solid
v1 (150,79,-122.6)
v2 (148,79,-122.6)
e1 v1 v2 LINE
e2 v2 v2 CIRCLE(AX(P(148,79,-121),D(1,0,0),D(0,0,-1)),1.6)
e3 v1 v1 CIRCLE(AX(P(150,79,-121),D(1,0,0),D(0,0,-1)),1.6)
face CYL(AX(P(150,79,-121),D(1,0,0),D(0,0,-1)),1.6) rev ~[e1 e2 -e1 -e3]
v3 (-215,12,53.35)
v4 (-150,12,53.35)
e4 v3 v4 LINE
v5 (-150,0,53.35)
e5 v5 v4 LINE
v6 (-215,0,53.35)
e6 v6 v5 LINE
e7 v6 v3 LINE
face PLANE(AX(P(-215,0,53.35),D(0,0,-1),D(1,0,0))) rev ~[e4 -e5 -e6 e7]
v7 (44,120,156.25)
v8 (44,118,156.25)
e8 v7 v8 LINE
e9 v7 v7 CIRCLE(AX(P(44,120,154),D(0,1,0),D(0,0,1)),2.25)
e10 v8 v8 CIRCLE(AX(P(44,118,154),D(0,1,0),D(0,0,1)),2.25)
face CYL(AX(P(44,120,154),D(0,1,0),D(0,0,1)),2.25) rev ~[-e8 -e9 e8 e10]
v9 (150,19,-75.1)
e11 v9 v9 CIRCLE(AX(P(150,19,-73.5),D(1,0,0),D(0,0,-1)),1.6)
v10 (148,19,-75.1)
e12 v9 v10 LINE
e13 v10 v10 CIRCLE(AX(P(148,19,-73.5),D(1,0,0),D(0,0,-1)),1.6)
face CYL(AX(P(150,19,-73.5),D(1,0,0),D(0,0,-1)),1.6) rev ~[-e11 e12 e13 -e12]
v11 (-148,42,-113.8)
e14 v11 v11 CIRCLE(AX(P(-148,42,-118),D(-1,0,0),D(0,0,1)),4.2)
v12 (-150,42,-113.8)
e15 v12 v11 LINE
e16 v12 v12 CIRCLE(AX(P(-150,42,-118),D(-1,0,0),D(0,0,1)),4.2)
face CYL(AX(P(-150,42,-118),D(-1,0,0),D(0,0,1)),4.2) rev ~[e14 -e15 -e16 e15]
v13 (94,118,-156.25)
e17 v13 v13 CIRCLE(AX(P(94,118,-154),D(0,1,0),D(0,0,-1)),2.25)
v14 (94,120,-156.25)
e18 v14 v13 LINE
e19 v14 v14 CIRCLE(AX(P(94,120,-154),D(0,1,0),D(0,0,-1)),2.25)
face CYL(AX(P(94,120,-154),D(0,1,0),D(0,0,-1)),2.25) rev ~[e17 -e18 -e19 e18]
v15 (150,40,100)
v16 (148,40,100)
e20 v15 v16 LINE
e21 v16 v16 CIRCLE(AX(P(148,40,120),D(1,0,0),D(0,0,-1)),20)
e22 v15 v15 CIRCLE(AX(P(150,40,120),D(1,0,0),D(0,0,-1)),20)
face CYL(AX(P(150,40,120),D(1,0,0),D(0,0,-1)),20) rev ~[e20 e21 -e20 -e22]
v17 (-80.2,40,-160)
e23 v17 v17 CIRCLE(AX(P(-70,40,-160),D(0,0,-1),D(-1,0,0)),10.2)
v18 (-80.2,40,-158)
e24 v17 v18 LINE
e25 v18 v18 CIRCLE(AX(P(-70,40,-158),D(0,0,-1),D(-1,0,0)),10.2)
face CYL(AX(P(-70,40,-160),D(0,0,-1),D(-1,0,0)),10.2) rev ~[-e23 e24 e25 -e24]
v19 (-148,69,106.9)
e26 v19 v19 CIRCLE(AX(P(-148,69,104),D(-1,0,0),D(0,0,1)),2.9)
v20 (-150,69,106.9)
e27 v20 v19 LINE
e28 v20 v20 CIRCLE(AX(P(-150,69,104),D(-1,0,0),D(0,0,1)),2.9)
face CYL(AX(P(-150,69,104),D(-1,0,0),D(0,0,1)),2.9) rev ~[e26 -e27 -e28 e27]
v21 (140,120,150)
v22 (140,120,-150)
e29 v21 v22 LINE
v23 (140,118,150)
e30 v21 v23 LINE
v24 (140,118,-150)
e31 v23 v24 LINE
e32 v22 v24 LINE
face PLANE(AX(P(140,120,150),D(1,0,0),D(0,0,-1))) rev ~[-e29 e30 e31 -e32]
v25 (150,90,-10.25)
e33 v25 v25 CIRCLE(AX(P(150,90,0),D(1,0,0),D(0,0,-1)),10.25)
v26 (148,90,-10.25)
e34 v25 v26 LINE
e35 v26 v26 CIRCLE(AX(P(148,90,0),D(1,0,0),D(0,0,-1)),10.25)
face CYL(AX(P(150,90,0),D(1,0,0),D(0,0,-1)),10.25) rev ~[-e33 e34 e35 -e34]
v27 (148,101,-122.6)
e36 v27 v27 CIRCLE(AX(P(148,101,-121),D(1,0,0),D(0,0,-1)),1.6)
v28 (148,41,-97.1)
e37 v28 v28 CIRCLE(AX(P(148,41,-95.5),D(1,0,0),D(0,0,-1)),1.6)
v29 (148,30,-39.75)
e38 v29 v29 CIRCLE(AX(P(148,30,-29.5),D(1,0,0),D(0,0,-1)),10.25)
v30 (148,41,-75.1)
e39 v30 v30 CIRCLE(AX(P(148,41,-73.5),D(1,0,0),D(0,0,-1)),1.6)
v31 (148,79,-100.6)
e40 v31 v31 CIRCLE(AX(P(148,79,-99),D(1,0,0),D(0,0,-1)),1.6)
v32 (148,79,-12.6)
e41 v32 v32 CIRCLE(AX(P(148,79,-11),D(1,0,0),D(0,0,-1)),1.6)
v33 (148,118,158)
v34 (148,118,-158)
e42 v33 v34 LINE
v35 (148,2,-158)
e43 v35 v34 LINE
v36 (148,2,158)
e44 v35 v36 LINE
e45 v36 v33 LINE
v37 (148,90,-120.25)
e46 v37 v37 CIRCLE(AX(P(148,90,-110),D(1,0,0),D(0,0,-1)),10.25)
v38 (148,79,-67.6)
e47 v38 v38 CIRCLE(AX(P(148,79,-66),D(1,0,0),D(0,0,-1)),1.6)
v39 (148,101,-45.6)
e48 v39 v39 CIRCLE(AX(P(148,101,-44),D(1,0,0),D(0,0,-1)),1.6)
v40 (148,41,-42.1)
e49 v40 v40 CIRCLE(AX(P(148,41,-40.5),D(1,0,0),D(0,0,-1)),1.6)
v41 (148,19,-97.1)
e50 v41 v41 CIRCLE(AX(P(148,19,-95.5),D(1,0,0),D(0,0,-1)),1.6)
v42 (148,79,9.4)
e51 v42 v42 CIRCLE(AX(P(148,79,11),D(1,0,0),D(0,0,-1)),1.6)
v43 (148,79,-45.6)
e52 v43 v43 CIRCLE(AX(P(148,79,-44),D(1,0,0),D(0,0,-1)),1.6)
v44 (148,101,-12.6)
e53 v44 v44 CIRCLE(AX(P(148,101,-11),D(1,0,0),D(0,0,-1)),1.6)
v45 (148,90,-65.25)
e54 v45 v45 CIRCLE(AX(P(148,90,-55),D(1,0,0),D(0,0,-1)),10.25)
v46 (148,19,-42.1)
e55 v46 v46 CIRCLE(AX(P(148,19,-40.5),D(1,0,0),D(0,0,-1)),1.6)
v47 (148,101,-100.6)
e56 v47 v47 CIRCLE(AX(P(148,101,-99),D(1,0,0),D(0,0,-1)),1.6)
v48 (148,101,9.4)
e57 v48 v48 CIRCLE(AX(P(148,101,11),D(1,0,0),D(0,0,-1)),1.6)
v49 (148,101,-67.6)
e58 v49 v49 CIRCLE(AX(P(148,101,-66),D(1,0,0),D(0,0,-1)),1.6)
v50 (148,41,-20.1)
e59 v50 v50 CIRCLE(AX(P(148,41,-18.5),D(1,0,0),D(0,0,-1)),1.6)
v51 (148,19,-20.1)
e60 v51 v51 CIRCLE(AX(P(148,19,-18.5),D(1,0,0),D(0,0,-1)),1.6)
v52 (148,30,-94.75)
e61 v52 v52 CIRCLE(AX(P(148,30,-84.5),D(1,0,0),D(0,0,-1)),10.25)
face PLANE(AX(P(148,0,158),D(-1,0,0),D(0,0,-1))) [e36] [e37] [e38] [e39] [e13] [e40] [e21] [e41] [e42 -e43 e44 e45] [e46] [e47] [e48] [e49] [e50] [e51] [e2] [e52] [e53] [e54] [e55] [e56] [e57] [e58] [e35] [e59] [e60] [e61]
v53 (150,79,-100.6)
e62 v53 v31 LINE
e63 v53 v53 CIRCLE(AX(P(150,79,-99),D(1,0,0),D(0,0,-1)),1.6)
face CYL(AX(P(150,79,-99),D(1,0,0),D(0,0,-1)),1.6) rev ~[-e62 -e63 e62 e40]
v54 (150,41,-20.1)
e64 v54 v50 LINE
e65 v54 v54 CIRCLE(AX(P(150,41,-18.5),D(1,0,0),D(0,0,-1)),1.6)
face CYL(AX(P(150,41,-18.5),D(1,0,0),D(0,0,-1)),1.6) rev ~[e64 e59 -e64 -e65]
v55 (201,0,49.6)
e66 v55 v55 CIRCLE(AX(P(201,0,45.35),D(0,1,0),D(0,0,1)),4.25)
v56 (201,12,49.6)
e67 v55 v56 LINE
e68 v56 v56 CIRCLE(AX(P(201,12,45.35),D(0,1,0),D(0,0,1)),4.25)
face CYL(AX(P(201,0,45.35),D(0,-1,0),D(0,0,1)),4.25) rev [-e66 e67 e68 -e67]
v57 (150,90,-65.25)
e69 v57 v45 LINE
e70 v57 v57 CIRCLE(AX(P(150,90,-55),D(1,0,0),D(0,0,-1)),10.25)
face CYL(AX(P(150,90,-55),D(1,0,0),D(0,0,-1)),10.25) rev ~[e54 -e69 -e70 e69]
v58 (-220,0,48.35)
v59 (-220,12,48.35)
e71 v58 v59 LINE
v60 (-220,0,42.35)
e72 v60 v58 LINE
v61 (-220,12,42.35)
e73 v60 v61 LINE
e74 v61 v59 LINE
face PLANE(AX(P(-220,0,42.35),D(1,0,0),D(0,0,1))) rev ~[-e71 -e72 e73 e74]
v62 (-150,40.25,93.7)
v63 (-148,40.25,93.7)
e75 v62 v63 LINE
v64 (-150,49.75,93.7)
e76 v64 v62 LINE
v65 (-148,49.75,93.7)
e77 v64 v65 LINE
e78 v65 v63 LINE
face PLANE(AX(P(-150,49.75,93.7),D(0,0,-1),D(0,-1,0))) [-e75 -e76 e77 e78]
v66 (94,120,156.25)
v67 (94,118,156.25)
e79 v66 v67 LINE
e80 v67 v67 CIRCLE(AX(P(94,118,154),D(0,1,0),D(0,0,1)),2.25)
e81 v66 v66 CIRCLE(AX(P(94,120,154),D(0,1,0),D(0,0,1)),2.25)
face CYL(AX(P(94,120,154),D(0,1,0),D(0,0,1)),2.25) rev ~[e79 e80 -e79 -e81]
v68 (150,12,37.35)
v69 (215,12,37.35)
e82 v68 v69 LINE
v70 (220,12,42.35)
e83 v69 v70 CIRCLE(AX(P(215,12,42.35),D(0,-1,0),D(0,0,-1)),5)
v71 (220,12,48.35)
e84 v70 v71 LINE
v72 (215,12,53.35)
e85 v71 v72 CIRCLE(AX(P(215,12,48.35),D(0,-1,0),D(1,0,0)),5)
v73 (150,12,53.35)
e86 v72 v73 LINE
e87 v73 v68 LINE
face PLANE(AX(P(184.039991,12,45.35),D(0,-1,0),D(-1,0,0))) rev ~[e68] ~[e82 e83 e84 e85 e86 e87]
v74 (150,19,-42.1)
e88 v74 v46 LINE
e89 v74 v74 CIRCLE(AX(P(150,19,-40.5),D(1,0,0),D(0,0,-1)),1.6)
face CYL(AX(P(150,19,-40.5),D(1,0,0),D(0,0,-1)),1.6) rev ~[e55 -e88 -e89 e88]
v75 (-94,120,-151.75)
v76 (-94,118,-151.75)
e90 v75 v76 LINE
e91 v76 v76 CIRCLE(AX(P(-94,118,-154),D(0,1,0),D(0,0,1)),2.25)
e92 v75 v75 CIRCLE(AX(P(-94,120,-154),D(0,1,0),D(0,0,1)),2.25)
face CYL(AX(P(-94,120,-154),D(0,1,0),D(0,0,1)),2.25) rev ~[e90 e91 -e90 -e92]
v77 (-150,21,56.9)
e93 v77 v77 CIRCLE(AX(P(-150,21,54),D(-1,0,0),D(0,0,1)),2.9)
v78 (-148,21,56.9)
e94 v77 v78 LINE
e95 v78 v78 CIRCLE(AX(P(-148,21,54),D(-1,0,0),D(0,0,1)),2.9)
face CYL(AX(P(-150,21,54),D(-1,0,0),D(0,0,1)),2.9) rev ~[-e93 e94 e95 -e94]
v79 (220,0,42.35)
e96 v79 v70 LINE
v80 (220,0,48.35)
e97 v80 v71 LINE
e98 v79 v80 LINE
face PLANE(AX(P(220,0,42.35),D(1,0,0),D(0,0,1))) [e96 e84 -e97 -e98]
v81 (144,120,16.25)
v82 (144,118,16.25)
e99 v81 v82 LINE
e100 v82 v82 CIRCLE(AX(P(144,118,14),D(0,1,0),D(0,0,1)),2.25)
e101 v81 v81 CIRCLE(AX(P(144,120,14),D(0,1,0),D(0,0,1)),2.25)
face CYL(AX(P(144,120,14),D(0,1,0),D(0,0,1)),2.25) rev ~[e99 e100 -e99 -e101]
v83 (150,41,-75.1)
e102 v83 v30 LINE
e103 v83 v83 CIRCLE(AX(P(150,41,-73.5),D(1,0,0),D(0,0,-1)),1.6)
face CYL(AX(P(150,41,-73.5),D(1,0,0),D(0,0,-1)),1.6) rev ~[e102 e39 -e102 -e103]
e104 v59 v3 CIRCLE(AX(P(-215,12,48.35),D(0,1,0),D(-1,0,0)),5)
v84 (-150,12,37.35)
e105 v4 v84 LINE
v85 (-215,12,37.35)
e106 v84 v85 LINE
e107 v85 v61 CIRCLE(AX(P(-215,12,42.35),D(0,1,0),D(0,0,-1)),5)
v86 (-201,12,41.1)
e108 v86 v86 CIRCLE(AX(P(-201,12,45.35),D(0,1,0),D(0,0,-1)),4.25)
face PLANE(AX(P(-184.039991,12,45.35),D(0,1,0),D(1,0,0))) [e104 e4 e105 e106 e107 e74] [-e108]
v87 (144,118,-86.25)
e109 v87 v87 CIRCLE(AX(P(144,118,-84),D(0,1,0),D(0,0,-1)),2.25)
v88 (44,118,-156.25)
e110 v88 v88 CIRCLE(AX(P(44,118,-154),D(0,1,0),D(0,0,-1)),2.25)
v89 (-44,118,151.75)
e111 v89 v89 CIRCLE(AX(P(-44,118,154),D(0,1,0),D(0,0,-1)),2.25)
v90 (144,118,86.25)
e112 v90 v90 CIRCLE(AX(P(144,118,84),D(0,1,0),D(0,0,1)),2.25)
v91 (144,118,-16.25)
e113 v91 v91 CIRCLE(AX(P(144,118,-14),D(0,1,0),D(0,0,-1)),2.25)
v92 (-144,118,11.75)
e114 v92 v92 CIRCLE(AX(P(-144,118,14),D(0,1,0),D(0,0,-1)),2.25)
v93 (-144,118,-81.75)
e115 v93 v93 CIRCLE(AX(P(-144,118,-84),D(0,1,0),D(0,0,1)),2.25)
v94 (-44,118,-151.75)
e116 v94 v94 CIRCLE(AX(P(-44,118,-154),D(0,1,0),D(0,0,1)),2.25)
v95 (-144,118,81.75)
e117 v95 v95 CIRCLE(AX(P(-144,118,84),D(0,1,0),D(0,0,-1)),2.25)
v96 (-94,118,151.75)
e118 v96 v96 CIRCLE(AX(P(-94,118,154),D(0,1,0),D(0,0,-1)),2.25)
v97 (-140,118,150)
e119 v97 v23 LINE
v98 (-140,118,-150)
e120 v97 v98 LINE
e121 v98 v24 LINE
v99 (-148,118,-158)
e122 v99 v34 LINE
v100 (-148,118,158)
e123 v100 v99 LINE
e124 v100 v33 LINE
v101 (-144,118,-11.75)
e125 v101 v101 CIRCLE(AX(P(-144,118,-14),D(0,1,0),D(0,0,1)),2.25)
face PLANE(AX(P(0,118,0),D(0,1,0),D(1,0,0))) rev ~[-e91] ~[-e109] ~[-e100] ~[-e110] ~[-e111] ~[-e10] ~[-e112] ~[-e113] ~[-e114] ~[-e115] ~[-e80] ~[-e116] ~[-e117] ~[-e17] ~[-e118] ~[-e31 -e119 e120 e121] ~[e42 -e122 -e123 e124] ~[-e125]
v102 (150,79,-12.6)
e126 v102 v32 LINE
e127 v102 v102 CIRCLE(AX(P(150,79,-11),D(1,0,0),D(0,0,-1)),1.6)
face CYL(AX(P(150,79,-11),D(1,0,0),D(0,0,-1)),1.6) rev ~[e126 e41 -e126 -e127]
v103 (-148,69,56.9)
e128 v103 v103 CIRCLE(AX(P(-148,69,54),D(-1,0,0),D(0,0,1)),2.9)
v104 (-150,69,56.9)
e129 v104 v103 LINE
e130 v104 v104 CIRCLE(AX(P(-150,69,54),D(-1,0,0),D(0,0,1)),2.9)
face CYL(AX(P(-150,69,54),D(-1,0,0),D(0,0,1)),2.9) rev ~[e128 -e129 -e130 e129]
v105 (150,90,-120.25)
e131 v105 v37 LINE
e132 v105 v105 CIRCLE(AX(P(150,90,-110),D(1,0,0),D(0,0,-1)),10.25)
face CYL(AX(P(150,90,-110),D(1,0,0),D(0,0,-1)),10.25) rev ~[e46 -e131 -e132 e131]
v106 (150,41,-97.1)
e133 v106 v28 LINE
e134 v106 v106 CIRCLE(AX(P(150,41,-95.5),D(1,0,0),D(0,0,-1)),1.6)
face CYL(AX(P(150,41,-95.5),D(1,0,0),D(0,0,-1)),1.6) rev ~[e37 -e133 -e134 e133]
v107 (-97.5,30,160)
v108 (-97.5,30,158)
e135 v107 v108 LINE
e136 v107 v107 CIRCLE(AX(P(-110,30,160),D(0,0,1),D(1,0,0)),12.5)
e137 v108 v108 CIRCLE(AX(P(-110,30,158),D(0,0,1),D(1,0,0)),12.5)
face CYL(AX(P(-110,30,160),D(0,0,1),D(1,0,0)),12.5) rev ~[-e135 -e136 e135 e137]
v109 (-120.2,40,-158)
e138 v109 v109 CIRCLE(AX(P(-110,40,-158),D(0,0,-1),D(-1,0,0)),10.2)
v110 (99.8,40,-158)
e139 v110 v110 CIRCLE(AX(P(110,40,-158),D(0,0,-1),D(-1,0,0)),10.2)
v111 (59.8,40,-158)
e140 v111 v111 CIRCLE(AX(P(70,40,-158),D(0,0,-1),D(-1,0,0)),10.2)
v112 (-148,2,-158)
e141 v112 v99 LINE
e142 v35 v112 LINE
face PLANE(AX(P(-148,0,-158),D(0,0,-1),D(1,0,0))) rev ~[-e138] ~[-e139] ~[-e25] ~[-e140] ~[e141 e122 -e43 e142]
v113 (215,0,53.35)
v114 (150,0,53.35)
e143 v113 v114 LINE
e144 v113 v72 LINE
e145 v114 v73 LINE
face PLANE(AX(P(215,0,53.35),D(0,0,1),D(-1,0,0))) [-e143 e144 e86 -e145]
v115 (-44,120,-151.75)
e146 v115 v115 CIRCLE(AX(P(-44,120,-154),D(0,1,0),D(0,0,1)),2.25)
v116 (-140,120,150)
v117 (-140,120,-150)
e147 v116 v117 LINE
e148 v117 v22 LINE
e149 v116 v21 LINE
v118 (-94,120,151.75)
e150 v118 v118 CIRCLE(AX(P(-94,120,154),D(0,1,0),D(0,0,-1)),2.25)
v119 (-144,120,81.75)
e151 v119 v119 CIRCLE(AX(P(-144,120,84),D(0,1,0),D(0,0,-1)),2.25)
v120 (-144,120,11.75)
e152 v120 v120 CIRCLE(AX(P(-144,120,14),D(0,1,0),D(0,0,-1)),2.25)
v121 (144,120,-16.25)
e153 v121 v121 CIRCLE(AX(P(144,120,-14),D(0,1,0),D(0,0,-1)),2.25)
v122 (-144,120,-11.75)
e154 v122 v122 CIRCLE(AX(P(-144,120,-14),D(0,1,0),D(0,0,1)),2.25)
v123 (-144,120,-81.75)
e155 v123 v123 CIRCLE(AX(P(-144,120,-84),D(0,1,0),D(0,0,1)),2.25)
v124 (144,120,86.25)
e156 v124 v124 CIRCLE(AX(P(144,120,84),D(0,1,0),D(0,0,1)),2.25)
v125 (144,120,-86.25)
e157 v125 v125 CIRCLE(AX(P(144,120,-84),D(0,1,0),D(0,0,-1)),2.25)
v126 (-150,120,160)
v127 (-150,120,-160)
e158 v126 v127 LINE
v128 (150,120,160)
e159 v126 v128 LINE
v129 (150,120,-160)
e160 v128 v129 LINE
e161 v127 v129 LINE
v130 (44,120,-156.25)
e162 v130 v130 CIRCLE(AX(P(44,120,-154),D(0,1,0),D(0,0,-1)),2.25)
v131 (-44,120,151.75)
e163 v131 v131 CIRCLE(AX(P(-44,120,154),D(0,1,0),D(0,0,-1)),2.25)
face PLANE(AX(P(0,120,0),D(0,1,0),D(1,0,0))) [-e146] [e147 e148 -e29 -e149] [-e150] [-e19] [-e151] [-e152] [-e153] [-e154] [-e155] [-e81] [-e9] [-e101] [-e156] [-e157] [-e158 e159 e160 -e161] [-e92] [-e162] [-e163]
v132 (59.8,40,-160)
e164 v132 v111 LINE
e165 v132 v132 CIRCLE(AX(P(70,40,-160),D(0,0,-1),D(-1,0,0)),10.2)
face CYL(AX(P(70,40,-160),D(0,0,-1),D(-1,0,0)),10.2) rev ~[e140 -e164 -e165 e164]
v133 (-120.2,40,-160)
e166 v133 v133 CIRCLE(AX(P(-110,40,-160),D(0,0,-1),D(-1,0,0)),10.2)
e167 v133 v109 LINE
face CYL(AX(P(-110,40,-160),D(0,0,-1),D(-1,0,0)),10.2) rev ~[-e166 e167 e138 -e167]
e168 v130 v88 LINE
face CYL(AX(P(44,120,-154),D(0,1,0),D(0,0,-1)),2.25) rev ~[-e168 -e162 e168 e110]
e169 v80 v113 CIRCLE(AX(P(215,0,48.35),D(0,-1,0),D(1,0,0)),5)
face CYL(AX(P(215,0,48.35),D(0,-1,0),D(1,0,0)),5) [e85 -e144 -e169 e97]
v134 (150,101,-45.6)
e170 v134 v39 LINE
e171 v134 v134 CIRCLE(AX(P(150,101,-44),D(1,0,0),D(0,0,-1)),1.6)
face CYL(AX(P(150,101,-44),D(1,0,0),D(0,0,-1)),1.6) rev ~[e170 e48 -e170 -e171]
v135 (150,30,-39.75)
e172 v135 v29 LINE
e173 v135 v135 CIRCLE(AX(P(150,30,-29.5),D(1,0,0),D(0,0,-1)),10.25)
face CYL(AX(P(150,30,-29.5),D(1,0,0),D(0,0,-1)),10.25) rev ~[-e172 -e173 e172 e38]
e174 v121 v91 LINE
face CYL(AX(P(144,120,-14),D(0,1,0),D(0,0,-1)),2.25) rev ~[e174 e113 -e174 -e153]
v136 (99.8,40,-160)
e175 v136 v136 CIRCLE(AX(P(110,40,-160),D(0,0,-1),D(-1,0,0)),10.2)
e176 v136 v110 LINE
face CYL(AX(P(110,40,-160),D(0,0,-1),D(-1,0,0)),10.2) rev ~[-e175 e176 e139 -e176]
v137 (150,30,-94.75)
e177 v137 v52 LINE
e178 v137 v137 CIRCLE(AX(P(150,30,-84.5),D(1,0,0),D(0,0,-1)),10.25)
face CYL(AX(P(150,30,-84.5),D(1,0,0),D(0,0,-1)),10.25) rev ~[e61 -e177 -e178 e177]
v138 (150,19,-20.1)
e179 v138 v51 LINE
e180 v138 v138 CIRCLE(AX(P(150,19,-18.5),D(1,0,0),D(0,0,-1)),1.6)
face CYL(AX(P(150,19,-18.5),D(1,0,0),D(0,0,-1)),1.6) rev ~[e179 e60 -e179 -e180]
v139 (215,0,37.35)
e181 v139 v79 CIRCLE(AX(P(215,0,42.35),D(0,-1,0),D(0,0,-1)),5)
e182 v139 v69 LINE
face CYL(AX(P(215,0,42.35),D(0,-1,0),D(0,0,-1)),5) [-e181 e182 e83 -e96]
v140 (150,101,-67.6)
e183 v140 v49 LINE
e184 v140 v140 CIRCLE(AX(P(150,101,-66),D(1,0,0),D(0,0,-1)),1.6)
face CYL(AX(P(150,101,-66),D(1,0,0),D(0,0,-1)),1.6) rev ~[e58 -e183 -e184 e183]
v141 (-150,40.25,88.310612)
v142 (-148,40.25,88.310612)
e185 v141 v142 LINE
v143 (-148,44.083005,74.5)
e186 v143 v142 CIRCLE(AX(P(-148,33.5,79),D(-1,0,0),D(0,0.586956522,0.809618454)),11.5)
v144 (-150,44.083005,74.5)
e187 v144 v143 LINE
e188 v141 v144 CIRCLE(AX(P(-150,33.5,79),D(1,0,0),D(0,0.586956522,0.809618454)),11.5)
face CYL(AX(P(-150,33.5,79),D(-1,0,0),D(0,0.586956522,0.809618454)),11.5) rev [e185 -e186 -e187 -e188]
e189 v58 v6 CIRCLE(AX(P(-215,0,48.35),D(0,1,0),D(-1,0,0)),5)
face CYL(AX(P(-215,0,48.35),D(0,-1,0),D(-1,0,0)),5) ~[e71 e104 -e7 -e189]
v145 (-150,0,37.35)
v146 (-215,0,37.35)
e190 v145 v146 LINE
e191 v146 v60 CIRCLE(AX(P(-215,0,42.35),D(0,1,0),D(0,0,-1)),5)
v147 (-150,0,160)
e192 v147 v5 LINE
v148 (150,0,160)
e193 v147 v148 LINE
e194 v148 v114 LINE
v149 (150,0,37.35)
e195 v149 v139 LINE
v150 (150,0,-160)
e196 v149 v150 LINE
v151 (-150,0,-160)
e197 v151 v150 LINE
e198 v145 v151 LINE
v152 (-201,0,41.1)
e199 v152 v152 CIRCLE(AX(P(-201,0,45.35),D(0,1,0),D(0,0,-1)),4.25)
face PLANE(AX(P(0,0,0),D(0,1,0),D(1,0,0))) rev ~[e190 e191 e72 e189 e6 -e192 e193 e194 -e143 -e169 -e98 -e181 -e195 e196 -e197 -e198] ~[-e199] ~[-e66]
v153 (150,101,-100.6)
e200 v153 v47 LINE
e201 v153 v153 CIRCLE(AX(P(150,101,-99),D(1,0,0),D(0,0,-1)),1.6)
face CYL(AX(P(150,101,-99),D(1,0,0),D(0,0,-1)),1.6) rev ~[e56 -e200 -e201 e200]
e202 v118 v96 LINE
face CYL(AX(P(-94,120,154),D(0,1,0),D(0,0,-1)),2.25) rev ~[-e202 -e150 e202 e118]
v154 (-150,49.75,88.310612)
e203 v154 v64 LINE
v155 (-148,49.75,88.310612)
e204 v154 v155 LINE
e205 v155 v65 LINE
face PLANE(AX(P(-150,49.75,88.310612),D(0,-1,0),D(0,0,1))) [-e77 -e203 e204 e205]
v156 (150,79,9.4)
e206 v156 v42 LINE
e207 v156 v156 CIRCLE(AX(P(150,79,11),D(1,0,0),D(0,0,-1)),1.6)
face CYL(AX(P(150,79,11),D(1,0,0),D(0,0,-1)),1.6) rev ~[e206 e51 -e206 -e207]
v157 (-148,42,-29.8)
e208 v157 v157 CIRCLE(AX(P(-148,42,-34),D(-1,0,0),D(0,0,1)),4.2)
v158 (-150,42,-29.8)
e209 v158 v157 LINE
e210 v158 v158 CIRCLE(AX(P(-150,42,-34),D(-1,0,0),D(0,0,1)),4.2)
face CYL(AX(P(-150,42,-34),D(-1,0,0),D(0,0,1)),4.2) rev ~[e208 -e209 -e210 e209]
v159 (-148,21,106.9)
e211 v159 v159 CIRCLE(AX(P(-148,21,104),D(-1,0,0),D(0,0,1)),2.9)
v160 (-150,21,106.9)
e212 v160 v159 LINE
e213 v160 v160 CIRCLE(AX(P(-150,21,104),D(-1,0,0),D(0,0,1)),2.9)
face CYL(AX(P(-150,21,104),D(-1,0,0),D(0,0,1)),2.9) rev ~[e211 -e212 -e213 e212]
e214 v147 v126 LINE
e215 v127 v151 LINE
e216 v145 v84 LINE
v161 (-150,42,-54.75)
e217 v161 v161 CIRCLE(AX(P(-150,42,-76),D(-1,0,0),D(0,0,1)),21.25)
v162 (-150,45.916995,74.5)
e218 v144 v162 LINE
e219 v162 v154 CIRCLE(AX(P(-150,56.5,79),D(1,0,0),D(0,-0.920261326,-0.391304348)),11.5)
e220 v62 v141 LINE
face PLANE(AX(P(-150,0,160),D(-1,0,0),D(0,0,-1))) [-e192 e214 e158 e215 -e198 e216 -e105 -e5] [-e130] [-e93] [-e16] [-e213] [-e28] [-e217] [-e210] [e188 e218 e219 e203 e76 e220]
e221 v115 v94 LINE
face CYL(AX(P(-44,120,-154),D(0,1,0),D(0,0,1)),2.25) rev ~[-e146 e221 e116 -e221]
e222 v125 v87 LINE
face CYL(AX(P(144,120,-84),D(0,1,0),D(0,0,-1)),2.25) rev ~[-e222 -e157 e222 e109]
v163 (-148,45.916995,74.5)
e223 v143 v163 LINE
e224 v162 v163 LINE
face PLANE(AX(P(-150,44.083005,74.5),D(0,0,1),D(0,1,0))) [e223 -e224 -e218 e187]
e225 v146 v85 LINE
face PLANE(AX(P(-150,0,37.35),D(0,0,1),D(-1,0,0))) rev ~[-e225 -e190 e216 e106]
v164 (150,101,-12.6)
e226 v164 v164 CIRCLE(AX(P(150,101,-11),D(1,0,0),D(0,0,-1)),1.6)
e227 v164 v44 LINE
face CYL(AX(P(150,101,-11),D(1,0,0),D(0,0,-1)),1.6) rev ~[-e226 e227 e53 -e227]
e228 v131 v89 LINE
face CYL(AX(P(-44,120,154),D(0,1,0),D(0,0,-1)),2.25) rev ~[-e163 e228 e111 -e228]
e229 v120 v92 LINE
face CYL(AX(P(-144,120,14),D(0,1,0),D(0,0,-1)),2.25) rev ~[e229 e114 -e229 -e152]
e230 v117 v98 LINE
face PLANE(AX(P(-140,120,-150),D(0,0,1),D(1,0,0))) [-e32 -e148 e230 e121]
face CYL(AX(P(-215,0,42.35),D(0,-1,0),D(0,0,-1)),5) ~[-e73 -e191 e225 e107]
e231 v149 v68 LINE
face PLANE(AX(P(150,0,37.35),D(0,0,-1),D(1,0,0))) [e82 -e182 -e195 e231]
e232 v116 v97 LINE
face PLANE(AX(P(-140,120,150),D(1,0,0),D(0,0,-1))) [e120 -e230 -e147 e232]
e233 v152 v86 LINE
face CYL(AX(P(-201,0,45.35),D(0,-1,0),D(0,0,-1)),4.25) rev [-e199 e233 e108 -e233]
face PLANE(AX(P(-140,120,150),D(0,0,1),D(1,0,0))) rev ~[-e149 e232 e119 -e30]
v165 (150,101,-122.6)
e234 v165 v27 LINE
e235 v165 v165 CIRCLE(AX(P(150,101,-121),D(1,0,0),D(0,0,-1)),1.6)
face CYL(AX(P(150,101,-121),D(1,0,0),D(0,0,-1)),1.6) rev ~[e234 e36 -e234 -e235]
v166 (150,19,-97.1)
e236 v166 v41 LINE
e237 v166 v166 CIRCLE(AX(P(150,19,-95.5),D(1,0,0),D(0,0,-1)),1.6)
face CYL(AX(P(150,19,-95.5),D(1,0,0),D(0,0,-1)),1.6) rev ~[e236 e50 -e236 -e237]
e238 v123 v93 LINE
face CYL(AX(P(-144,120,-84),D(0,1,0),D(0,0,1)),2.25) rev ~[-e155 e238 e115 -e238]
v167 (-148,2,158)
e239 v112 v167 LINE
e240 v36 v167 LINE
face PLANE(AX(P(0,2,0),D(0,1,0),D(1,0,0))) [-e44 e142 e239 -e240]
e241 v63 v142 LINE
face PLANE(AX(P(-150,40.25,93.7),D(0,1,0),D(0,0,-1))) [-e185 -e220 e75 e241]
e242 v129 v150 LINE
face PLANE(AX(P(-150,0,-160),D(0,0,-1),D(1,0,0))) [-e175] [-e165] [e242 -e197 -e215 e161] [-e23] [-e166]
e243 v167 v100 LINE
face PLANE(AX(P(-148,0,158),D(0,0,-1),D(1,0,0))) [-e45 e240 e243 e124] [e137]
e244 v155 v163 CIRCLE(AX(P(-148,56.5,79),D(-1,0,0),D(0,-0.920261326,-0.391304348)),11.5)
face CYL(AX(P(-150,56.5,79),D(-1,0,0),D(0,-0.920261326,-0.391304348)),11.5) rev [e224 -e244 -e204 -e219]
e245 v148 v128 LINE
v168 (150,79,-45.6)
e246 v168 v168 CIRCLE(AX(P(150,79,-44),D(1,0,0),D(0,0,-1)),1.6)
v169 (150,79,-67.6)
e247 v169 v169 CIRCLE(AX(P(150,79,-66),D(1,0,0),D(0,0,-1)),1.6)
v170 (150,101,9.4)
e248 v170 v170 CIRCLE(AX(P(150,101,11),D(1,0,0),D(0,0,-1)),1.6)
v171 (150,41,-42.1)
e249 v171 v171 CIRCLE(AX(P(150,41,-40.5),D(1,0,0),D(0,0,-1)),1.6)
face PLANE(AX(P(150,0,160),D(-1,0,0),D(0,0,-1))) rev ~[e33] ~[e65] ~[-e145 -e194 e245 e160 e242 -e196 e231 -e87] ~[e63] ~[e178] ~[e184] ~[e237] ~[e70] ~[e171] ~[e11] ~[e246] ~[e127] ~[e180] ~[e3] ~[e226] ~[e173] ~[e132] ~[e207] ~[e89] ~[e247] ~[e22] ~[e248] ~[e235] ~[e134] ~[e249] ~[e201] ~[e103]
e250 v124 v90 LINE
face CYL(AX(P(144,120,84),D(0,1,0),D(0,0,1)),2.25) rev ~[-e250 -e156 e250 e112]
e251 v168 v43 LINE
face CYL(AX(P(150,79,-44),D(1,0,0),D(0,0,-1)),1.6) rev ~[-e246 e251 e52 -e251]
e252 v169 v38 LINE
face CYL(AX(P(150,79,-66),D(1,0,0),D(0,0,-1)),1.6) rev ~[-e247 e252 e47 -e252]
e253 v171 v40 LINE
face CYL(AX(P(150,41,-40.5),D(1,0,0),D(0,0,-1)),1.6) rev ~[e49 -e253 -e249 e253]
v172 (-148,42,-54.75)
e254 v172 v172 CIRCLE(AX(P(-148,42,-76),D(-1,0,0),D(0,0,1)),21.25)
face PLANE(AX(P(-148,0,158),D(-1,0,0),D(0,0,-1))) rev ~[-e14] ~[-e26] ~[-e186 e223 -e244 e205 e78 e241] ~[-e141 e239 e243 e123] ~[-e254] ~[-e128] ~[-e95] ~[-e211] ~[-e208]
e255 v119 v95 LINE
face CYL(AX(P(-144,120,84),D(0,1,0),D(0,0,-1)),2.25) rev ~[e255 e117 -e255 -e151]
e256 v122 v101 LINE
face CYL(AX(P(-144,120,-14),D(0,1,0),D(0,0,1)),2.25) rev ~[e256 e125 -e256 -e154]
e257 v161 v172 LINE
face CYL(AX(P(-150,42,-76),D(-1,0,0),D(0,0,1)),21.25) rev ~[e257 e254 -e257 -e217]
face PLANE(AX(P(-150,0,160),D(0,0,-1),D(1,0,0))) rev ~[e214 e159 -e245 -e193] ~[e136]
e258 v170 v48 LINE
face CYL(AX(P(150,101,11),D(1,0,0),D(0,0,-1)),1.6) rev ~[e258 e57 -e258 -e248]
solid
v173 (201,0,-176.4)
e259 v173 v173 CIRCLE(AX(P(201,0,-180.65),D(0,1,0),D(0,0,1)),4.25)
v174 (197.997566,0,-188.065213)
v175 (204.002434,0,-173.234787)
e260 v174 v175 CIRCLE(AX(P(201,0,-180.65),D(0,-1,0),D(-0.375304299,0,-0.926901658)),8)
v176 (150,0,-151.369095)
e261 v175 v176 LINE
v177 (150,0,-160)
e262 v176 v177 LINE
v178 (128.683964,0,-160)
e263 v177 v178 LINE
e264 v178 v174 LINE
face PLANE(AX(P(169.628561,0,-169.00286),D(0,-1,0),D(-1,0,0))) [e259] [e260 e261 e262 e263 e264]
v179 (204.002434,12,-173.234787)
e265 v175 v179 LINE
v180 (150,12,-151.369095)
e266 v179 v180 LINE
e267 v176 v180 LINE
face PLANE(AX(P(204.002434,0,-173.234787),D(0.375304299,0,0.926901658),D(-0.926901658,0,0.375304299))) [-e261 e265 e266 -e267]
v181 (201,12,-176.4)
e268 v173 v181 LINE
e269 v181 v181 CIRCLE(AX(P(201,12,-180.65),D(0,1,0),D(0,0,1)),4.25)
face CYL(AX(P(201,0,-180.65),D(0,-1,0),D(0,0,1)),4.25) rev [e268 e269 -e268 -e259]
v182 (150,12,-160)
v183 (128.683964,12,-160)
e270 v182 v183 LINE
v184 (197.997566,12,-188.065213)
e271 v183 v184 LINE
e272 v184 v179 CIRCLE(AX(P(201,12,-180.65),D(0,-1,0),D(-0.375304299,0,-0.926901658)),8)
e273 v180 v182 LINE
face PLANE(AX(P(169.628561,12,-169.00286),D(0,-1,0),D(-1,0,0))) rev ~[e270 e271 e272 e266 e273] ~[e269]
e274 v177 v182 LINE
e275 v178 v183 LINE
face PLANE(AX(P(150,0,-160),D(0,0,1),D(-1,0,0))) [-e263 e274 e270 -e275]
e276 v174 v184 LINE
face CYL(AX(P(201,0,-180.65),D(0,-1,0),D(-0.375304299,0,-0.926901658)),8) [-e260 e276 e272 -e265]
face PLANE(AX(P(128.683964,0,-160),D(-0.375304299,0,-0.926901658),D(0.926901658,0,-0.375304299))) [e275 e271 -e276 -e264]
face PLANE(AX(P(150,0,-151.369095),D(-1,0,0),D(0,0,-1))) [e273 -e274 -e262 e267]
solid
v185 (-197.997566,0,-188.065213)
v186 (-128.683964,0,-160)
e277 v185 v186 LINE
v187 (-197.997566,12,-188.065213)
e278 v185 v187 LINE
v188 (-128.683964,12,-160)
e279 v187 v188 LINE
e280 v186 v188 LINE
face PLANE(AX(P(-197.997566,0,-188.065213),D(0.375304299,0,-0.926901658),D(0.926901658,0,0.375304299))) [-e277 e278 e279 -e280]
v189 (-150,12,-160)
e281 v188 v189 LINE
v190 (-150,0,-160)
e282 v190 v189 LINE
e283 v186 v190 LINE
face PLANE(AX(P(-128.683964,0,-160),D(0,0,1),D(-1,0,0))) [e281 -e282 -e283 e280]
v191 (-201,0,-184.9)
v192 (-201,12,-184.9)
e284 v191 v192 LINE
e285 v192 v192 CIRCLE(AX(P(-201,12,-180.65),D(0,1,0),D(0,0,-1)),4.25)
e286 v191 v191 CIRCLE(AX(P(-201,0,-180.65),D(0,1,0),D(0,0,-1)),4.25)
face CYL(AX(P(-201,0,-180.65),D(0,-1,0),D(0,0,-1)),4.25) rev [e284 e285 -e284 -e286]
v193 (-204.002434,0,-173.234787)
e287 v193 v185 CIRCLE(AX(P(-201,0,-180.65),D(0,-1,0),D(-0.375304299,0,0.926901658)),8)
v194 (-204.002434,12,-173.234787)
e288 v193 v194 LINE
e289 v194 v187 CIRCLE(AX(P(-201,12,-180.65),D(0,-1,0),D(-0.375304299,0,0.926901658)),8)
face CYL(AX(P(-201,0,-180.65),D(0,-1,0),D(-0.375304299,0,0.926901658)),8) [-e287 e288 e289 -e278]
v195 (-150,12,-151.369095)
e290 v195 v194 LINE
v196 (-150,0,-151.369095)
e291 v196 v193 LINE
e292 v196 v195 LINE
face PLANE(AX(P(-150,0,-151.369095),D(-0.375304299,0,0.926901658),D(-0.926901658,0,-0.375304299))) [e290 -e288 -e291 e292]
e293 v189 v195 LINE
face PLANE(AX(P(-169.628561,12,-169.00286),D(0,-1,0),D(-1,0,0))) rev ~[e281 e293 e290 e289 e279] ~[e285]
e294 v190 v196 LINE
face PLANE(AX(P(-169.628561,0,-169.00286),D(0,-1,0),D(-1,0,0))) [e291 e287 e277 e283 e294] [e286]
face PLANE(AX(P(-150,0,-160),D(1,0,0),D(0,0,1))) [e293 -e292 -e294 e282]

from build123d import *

# Parameters (mm, degrees)
SKETCH3_W             = 300
SKETCH3_H             = 320
BOSS_EXTRUDE3_DEPTH   = 2
SKETCH4_W             = 300
SKETCH4_H             = 320
SKETCH4_W_2           = 296
SKETCH4_H_2           = 316
BOSS_EXTRUDE4_DEPTH   = 120
SKETCH5_R             = 10.2
CUT_EXTRUDE1_DEPTH    = 120
SKETCH6_R             = 12.5
CUT_EXTRUDE2_DEPTH    = 120
SKETCH7_R             = 21.25
SKETCH7_R_2           = 4.2
SKETCH7_R_3           = 2.9
CUT_EXTRUDE4_DEPTH    = 18.5
SKETCH8_R             = 10.25
SKETCH8_R_2           = 1.6
SKETCH8_R_3           = 20
CUT_EXTRUDE5_DEPTH    = 10
SKETCH10_W            = 296
SKETCH10_H            = 316
SKETCH10_R            = 2.25
SKETCH10_W_2          = 280
SKETCH10_H_2          = 300
BOSS_EXTRUDE5_DEPTH   = 2
SKETCH12_R            = 4.25
BOSS_EXTRUDE7_DEPTH   = 12
SKETCH14_R            = 4.25
BOSS_EXTRUDE8_DEPTH   = 12
BOSS_EXTRUDE8_2_DEPTH = 12


with BuildPart() as part:
    # Sketch3 → Boss-Extrude3 (new body)
    with BuildSketch(Plane(origin=(0, 0, 0), x_dir=(1, 0, 0), z_dir=(0, 1, 0))):
        Rectangle(SKETCH3_W, SKETCH3_H)
    extrude(amount=BOSS_EXTRUDE3_DEPTH)

    # Sketch4 → Boss-Extrude4 (add)
    with BuildSketch(Plane(origin=(0, 0, 0), x_dir=(1, 0, 0), z_dir=(0, 1, 0))):
        Rectangle(SKETCH4_W, SKETCH4_H)
        Rectangle(SKETCH4_W_2, SKETCH4_H_2, mode=Mode.SUBTRACT)
    extrude(amount=BOSS_EXTRUDE4_DEPTH)

    # Sketch5 → Cut-Extrude1 (cut)
    with BuildSketch(Plane(origin=(0, 0, -160), x_dir=(-1, 0, 0), z_dir=(0, 0, -1))):
        with Locations((-110, 40)):
            Circle(SKETCH5_R)
        with Locations((-70, 40)):
            Circle(SKETCH5_R)
        with Locations((70, 40)):
            Circle(SKETCH5_R)
        with Locations((110, 40)):
            Circle(SKETCH5_R)
    extrude(amount=-CUT_EXTRUDE1_DEPTH, mode=Mode.SUBTRACT)

    # Sketch6 → Cut-Extrude2 (cut)
    with BuildSketch(Plane.XY.offset(160)):
        with Locations((-110, 30)):
            Circle(SKETCH6_R)
    extrude(amount=-CUT_EXTRUDE2_DEPTH, mode=Mode.SUBTRACT)

    # Sketch7 → Cut-Extrude4 (cut)
    with BuildSketch(Plane.ZY.offset(150)):
        with Locations((-76, 42)):
            Circle(SKETCH7_R)
        with Locations((-34, 42)):
            Circle(SKETCH7_R_2)
        with Locations((-118, 42)):
            Circle(SKETCH7_R_2)
        with Locations((54, 69)):
            Circle(SKETCH7_R_3)
        with Locations((104, 69)):
            Circle(SKETCH7_R_3)
        with Locations((54, 21)):
            Circle(SKETCH7_R_3)
        with Locations((104, 21)):
            Circle(SKETCH7_R_3)
        with BuildLine():
            Line((93.7, 40.25), (88.310612225, 40.25))
            ThreePointArc((88.310612225, 40.25), (75.924535841, 22.418866475), (74.5, 44.083005244))
            Line((74.5, 44.083005244), (74.5, 45.916994756))
            ThreePointArc((74.5, 45.916994756), (75.924535841, 67.581133525), (88.310612225, 49.75))
            Line((88.310612225, 49.75), (93.7, 49.75))
            Line((93.7, 49.75), (93.7, 40.25))
        make_face()
    extrude(amount=-CUT_EXTRUDE4_DEPTH, mode=Mode.SUBTRACT)

    # Sketch8 → Cut-Extrude5 (cut)
    with BuildSketch(Plane(origin=(150, 0, 0), x_dir=(0, 0, -1), z_dir=(1, 0, 0))):
        with Locations((110, 90)):
            Circle(SKETCH8_R)
        with Locations((121, 101)):
            Circle(SKETCH8_R_2)
        with Locations((99, 101)):
            Circle(SKETCH8_R_2)
        with Locations((121, 79)):
            Circle(SKETCH8_R_2)
        with Locations((99, 79)):
            Circle(SKETCH8_R_2)
        with Locations((55, 90)):
            Circle(SKETCH8_R)
        with Locations((66, 101)):
            Circle(SKETCH8_R_2)
        with Locations((44, 101)):
            Circle(SKETCH8_R_2)
        with Locations((66, 79)):
            Circle(SKETCH8_R_2)
        with Locations((44, 79)):
            Circle(SKETCH8_R_2)
        with Locations((0, 90)):
            Circle(SKETCH8_R)
        with Locations((11, 101)):
            Circle(SKETCH8_R_2)
        with Locations((-11, 101)):
            Circle(SKETCH8_R_2)
        with Locations((11, 79)):
            Circle(SKETCH8_R_2)
        with Locations((-11, 79)):
            Circle(SKETCH8_R_2)
        with Locations((84.5, 30)):
            Circle(SKETCH8_R)
        with Locations((95.5, 41)):
            Circle(SKETCH8_R_2)
        with Locations((95.5, 19)):
            Circle(SKETCH8_R_2)
        with Locations((73.5, 41)):
            Circle(SKETCH8_R_2)
        with Locations((73.5, 19)):
            Circle(SKETCH8_R_2)
        with Locations((29.5, 30)):
            Circle(SKETCH8_R)
        with Locations((40.5, 41)):
            Circle(SKETCH8_R_2)
        with Locations((40.5, 19)):
            Circle(SKETCH8_R_2)
        with Locations((18.5, 41)):
            Circle(SKETCH8_R_2)
        with Locations((18.5, 19)):
            Circle(SKETCH8_R_2)
        with Locations((-120, 40)):
            Circle(SKETCH8_R_3)
    extrude(amount=-CUT_EXTRUDE5_DEPTH, mode=Mode.SUBTRACT)

    # Sketch10 → Boss-Extrude5 (add)
    with BuildSketch(Plane(origin=(0, 120, 0), x_dir=(1, 0, 0), z_dir=(0, 1, 0))):
        Rectangle(SKETCH10_W, SKETCH10_H)
        with Locations(Location((-94, 154, 0), (0, 0, 270))):
            Circle(SKETCH10_R, mode=Mode.SUBTRACT)
        with Locations(Location((-44, 154, 0), (0, 0, 270))):
            Circle(SKETCH10_R, mode=Mode.SUBTRACT)
        with Locations(Location((-144, 84, 0), (0, 0, 270))):
            Circle(SKETCH10_R, mode=Mode.SUBTRACT)
        with Locations(Location((-144, 14, 0), (0, 0, 270))):
            Circle(SKETCH10_R, mode=Mode.SUBTRACT)
        with Locations(Location((144, 14, 0), (0, 0, 90))):
            Circle(SKETCH10_R, mode=Mode.SUBTRACT)
        with Locations(Location((144, 84, 0), (0, 0, 90))):
            Circle(SKETCH10_R, mode=Mode.SUBTRACT)
        with Locations(Location((44, 154, 0), (0, 0, 90))):
            Circle(SKETCH10_R, mode=Mode.SUBTRACT)
        with Locations(Location((94, 154, 0), (0, 0, 90))):
            Circle(SKETCH10_R, mode=Mode.SUBTRACT)
        with Locations(Location((94, -154, 0), (0, 0, 270))):
            Circle(SKETCH10_R, mode=Mode.SUBTRACT)
        with Locations(Location((44, -154, 0), (0, 0, 270))):
            Circle(SKETCH10_R, mode=Mode.SUBTRACT)
        with Locations(Location((144, -84, 0), (0, 0, 270))):
            Circle(SKETCH10_R, mode=Mode.SUBTRACT)
        with Locations(Location((144, -14, 0), (0, 0, 270))):
            Circle(SKETCH10_R, mode=Mode.SUBTRACT)
        with Locations(Location((-144, -14, 0), (0, 0, 90))):
            Circle(SKETCH10_R, mode=Mode.SUBTRACT)
        with Locations(Location((-144, -84, 0), (0, 0, 90))):
            Circle(SKETCH10_R, mode=Mode.SUBTRACT)
        with Locations(Location((-44, -154, 0), (0, 0, 90))):
            Circle(SKETCH10_R, mode=Mode.SUBTRACT)
        with Locations(Location((-94, -154, 0), (0, 0, 90))):
            Circle(SKETCH10_R, mode=Mode.SUBTRACT)
        Rectangle(SKETCH10_W_2, SKETCH10_H_2, mode=Mode.SUBTRACT)
    extrude(amount=-BOSS_EXTRUDE5_DEPTH)

    # Sketch12 → Boss-Extrude7 (add)
    # profile 1 of 2: a face of its own
    with BuildSketch(Plane(origin=(0, 0, 0), x_dir=(1, 0, 0), z_dir=(0, 1, 0))):
        with BuildLine():
            Line((150, -37.35), (215, -37.35))
            ThreePointArc((215, -37.35), (218.535533906, -38.814466094), (220, -42.35))
            Line((220, -42.35), (220, -48.35))
            ThreePointArc((220, -48.35), (218.535533906, -51.885533906), (215, -53.35))
            Line((215, -53.35), (150, -53.35))
            Line((150, -53.35), (150, -37.35))
        make_face()
        with Locations(Location((201, -45.35, 0), (0, 0, 270))):
            Circle(SKETCH12_R, mode=Mode.SUBTRACT)
    # profile 2 of 2: a face of its own
    with BuildSketch(Plane(origin=(0, 0, 0), x_dir=(1, 0, 0), z_dir=(0, 1, 0))):
        with BuildLine():
            Line((-220, -42.35), (-220, -48.35))
            ThreePointArc((-220, -48.35), (-218.535533906, -51.885533906), (-215, -53.35))
            Line((-215, -53.35), (-150, -53.35))
            Line((-150, -53.35), (-150, -37.35))
            Line((-150, -37.35), (-215, -37.35))
            ThreePointArc((-215, -37.35), (-218.535533906, -38.814466094), (-220, -42.35))
        make_face()
        with Locations(Location((-201, -45.35, 0), (0, 0, 90))):
            Circle(SKETCH12_R, mode=Mode.SUBTRACT)
    extrude(amount=BOSS_EXTRUDE7_DEPTH)


with BuildPart() as body_2:
    # Sketch14 → Boss-Extrude8 (new body)
    with BuildSketch(Plane(origin=(0, 0, 0), x_dir=(1, 0, 0), z_dir=(0, 1, 0))):
        with BuildLine():
            Line((128.683963847, 160), (197.99756561, 188.065213263))
            ThreePointArc((197.99756561, 188.065213263), (208.415213263, 183.65243439), (204.00243439, 173.234786737))
            Line((204.00243439, 173.234786737), (150, 151.369095165))
            Line((150, 151.369095165), (150, 160))
            Line((150, 160), (128.683963847, 160))
        make_face()
        with Locations(Location((201, 180.65, 0), (0, 0, 270))):
            Circle(SKETCH14_R, mode=Mode.SUBTRACT)
    extrude(amount=BOSS_EXTRUDE8_DEPTH)


with BuildPart() as body_3:
    # Sketch14 → Boss-Extrude8 2 (new body)
    with BuildSketch(Plane(origin=(0, 0, 0), x_dir=(1, 0, 0), z_dir=(0, 1, 0))):
        with BuildLine():
            Line((-128.683963847, 160), (-150, 160))
            Line((-150, 160), (-150, 151.369095165))
            Line((-150, 151.369095165), (-204.00243439, 173.234786737))
            ThreePointArc((-204.00243439, 173.234786737), (-208.415213263, 183.65243439), (-197.99756561, 188.065213263))
            Line((-197.99756561, 188.065213263), (-128.683963847, 160))
        make_face()
        with Locations(Location((-201, 180.65, 0), (0, 0, 90))):
            Circle(SKETCH14_R, mode=Mode.SUBTRACT)
    extrude(amount=BOSS_EXTRUDE8_2_DEPTH)


solid = Compound([part.part, body_2.part, body_3.part])
